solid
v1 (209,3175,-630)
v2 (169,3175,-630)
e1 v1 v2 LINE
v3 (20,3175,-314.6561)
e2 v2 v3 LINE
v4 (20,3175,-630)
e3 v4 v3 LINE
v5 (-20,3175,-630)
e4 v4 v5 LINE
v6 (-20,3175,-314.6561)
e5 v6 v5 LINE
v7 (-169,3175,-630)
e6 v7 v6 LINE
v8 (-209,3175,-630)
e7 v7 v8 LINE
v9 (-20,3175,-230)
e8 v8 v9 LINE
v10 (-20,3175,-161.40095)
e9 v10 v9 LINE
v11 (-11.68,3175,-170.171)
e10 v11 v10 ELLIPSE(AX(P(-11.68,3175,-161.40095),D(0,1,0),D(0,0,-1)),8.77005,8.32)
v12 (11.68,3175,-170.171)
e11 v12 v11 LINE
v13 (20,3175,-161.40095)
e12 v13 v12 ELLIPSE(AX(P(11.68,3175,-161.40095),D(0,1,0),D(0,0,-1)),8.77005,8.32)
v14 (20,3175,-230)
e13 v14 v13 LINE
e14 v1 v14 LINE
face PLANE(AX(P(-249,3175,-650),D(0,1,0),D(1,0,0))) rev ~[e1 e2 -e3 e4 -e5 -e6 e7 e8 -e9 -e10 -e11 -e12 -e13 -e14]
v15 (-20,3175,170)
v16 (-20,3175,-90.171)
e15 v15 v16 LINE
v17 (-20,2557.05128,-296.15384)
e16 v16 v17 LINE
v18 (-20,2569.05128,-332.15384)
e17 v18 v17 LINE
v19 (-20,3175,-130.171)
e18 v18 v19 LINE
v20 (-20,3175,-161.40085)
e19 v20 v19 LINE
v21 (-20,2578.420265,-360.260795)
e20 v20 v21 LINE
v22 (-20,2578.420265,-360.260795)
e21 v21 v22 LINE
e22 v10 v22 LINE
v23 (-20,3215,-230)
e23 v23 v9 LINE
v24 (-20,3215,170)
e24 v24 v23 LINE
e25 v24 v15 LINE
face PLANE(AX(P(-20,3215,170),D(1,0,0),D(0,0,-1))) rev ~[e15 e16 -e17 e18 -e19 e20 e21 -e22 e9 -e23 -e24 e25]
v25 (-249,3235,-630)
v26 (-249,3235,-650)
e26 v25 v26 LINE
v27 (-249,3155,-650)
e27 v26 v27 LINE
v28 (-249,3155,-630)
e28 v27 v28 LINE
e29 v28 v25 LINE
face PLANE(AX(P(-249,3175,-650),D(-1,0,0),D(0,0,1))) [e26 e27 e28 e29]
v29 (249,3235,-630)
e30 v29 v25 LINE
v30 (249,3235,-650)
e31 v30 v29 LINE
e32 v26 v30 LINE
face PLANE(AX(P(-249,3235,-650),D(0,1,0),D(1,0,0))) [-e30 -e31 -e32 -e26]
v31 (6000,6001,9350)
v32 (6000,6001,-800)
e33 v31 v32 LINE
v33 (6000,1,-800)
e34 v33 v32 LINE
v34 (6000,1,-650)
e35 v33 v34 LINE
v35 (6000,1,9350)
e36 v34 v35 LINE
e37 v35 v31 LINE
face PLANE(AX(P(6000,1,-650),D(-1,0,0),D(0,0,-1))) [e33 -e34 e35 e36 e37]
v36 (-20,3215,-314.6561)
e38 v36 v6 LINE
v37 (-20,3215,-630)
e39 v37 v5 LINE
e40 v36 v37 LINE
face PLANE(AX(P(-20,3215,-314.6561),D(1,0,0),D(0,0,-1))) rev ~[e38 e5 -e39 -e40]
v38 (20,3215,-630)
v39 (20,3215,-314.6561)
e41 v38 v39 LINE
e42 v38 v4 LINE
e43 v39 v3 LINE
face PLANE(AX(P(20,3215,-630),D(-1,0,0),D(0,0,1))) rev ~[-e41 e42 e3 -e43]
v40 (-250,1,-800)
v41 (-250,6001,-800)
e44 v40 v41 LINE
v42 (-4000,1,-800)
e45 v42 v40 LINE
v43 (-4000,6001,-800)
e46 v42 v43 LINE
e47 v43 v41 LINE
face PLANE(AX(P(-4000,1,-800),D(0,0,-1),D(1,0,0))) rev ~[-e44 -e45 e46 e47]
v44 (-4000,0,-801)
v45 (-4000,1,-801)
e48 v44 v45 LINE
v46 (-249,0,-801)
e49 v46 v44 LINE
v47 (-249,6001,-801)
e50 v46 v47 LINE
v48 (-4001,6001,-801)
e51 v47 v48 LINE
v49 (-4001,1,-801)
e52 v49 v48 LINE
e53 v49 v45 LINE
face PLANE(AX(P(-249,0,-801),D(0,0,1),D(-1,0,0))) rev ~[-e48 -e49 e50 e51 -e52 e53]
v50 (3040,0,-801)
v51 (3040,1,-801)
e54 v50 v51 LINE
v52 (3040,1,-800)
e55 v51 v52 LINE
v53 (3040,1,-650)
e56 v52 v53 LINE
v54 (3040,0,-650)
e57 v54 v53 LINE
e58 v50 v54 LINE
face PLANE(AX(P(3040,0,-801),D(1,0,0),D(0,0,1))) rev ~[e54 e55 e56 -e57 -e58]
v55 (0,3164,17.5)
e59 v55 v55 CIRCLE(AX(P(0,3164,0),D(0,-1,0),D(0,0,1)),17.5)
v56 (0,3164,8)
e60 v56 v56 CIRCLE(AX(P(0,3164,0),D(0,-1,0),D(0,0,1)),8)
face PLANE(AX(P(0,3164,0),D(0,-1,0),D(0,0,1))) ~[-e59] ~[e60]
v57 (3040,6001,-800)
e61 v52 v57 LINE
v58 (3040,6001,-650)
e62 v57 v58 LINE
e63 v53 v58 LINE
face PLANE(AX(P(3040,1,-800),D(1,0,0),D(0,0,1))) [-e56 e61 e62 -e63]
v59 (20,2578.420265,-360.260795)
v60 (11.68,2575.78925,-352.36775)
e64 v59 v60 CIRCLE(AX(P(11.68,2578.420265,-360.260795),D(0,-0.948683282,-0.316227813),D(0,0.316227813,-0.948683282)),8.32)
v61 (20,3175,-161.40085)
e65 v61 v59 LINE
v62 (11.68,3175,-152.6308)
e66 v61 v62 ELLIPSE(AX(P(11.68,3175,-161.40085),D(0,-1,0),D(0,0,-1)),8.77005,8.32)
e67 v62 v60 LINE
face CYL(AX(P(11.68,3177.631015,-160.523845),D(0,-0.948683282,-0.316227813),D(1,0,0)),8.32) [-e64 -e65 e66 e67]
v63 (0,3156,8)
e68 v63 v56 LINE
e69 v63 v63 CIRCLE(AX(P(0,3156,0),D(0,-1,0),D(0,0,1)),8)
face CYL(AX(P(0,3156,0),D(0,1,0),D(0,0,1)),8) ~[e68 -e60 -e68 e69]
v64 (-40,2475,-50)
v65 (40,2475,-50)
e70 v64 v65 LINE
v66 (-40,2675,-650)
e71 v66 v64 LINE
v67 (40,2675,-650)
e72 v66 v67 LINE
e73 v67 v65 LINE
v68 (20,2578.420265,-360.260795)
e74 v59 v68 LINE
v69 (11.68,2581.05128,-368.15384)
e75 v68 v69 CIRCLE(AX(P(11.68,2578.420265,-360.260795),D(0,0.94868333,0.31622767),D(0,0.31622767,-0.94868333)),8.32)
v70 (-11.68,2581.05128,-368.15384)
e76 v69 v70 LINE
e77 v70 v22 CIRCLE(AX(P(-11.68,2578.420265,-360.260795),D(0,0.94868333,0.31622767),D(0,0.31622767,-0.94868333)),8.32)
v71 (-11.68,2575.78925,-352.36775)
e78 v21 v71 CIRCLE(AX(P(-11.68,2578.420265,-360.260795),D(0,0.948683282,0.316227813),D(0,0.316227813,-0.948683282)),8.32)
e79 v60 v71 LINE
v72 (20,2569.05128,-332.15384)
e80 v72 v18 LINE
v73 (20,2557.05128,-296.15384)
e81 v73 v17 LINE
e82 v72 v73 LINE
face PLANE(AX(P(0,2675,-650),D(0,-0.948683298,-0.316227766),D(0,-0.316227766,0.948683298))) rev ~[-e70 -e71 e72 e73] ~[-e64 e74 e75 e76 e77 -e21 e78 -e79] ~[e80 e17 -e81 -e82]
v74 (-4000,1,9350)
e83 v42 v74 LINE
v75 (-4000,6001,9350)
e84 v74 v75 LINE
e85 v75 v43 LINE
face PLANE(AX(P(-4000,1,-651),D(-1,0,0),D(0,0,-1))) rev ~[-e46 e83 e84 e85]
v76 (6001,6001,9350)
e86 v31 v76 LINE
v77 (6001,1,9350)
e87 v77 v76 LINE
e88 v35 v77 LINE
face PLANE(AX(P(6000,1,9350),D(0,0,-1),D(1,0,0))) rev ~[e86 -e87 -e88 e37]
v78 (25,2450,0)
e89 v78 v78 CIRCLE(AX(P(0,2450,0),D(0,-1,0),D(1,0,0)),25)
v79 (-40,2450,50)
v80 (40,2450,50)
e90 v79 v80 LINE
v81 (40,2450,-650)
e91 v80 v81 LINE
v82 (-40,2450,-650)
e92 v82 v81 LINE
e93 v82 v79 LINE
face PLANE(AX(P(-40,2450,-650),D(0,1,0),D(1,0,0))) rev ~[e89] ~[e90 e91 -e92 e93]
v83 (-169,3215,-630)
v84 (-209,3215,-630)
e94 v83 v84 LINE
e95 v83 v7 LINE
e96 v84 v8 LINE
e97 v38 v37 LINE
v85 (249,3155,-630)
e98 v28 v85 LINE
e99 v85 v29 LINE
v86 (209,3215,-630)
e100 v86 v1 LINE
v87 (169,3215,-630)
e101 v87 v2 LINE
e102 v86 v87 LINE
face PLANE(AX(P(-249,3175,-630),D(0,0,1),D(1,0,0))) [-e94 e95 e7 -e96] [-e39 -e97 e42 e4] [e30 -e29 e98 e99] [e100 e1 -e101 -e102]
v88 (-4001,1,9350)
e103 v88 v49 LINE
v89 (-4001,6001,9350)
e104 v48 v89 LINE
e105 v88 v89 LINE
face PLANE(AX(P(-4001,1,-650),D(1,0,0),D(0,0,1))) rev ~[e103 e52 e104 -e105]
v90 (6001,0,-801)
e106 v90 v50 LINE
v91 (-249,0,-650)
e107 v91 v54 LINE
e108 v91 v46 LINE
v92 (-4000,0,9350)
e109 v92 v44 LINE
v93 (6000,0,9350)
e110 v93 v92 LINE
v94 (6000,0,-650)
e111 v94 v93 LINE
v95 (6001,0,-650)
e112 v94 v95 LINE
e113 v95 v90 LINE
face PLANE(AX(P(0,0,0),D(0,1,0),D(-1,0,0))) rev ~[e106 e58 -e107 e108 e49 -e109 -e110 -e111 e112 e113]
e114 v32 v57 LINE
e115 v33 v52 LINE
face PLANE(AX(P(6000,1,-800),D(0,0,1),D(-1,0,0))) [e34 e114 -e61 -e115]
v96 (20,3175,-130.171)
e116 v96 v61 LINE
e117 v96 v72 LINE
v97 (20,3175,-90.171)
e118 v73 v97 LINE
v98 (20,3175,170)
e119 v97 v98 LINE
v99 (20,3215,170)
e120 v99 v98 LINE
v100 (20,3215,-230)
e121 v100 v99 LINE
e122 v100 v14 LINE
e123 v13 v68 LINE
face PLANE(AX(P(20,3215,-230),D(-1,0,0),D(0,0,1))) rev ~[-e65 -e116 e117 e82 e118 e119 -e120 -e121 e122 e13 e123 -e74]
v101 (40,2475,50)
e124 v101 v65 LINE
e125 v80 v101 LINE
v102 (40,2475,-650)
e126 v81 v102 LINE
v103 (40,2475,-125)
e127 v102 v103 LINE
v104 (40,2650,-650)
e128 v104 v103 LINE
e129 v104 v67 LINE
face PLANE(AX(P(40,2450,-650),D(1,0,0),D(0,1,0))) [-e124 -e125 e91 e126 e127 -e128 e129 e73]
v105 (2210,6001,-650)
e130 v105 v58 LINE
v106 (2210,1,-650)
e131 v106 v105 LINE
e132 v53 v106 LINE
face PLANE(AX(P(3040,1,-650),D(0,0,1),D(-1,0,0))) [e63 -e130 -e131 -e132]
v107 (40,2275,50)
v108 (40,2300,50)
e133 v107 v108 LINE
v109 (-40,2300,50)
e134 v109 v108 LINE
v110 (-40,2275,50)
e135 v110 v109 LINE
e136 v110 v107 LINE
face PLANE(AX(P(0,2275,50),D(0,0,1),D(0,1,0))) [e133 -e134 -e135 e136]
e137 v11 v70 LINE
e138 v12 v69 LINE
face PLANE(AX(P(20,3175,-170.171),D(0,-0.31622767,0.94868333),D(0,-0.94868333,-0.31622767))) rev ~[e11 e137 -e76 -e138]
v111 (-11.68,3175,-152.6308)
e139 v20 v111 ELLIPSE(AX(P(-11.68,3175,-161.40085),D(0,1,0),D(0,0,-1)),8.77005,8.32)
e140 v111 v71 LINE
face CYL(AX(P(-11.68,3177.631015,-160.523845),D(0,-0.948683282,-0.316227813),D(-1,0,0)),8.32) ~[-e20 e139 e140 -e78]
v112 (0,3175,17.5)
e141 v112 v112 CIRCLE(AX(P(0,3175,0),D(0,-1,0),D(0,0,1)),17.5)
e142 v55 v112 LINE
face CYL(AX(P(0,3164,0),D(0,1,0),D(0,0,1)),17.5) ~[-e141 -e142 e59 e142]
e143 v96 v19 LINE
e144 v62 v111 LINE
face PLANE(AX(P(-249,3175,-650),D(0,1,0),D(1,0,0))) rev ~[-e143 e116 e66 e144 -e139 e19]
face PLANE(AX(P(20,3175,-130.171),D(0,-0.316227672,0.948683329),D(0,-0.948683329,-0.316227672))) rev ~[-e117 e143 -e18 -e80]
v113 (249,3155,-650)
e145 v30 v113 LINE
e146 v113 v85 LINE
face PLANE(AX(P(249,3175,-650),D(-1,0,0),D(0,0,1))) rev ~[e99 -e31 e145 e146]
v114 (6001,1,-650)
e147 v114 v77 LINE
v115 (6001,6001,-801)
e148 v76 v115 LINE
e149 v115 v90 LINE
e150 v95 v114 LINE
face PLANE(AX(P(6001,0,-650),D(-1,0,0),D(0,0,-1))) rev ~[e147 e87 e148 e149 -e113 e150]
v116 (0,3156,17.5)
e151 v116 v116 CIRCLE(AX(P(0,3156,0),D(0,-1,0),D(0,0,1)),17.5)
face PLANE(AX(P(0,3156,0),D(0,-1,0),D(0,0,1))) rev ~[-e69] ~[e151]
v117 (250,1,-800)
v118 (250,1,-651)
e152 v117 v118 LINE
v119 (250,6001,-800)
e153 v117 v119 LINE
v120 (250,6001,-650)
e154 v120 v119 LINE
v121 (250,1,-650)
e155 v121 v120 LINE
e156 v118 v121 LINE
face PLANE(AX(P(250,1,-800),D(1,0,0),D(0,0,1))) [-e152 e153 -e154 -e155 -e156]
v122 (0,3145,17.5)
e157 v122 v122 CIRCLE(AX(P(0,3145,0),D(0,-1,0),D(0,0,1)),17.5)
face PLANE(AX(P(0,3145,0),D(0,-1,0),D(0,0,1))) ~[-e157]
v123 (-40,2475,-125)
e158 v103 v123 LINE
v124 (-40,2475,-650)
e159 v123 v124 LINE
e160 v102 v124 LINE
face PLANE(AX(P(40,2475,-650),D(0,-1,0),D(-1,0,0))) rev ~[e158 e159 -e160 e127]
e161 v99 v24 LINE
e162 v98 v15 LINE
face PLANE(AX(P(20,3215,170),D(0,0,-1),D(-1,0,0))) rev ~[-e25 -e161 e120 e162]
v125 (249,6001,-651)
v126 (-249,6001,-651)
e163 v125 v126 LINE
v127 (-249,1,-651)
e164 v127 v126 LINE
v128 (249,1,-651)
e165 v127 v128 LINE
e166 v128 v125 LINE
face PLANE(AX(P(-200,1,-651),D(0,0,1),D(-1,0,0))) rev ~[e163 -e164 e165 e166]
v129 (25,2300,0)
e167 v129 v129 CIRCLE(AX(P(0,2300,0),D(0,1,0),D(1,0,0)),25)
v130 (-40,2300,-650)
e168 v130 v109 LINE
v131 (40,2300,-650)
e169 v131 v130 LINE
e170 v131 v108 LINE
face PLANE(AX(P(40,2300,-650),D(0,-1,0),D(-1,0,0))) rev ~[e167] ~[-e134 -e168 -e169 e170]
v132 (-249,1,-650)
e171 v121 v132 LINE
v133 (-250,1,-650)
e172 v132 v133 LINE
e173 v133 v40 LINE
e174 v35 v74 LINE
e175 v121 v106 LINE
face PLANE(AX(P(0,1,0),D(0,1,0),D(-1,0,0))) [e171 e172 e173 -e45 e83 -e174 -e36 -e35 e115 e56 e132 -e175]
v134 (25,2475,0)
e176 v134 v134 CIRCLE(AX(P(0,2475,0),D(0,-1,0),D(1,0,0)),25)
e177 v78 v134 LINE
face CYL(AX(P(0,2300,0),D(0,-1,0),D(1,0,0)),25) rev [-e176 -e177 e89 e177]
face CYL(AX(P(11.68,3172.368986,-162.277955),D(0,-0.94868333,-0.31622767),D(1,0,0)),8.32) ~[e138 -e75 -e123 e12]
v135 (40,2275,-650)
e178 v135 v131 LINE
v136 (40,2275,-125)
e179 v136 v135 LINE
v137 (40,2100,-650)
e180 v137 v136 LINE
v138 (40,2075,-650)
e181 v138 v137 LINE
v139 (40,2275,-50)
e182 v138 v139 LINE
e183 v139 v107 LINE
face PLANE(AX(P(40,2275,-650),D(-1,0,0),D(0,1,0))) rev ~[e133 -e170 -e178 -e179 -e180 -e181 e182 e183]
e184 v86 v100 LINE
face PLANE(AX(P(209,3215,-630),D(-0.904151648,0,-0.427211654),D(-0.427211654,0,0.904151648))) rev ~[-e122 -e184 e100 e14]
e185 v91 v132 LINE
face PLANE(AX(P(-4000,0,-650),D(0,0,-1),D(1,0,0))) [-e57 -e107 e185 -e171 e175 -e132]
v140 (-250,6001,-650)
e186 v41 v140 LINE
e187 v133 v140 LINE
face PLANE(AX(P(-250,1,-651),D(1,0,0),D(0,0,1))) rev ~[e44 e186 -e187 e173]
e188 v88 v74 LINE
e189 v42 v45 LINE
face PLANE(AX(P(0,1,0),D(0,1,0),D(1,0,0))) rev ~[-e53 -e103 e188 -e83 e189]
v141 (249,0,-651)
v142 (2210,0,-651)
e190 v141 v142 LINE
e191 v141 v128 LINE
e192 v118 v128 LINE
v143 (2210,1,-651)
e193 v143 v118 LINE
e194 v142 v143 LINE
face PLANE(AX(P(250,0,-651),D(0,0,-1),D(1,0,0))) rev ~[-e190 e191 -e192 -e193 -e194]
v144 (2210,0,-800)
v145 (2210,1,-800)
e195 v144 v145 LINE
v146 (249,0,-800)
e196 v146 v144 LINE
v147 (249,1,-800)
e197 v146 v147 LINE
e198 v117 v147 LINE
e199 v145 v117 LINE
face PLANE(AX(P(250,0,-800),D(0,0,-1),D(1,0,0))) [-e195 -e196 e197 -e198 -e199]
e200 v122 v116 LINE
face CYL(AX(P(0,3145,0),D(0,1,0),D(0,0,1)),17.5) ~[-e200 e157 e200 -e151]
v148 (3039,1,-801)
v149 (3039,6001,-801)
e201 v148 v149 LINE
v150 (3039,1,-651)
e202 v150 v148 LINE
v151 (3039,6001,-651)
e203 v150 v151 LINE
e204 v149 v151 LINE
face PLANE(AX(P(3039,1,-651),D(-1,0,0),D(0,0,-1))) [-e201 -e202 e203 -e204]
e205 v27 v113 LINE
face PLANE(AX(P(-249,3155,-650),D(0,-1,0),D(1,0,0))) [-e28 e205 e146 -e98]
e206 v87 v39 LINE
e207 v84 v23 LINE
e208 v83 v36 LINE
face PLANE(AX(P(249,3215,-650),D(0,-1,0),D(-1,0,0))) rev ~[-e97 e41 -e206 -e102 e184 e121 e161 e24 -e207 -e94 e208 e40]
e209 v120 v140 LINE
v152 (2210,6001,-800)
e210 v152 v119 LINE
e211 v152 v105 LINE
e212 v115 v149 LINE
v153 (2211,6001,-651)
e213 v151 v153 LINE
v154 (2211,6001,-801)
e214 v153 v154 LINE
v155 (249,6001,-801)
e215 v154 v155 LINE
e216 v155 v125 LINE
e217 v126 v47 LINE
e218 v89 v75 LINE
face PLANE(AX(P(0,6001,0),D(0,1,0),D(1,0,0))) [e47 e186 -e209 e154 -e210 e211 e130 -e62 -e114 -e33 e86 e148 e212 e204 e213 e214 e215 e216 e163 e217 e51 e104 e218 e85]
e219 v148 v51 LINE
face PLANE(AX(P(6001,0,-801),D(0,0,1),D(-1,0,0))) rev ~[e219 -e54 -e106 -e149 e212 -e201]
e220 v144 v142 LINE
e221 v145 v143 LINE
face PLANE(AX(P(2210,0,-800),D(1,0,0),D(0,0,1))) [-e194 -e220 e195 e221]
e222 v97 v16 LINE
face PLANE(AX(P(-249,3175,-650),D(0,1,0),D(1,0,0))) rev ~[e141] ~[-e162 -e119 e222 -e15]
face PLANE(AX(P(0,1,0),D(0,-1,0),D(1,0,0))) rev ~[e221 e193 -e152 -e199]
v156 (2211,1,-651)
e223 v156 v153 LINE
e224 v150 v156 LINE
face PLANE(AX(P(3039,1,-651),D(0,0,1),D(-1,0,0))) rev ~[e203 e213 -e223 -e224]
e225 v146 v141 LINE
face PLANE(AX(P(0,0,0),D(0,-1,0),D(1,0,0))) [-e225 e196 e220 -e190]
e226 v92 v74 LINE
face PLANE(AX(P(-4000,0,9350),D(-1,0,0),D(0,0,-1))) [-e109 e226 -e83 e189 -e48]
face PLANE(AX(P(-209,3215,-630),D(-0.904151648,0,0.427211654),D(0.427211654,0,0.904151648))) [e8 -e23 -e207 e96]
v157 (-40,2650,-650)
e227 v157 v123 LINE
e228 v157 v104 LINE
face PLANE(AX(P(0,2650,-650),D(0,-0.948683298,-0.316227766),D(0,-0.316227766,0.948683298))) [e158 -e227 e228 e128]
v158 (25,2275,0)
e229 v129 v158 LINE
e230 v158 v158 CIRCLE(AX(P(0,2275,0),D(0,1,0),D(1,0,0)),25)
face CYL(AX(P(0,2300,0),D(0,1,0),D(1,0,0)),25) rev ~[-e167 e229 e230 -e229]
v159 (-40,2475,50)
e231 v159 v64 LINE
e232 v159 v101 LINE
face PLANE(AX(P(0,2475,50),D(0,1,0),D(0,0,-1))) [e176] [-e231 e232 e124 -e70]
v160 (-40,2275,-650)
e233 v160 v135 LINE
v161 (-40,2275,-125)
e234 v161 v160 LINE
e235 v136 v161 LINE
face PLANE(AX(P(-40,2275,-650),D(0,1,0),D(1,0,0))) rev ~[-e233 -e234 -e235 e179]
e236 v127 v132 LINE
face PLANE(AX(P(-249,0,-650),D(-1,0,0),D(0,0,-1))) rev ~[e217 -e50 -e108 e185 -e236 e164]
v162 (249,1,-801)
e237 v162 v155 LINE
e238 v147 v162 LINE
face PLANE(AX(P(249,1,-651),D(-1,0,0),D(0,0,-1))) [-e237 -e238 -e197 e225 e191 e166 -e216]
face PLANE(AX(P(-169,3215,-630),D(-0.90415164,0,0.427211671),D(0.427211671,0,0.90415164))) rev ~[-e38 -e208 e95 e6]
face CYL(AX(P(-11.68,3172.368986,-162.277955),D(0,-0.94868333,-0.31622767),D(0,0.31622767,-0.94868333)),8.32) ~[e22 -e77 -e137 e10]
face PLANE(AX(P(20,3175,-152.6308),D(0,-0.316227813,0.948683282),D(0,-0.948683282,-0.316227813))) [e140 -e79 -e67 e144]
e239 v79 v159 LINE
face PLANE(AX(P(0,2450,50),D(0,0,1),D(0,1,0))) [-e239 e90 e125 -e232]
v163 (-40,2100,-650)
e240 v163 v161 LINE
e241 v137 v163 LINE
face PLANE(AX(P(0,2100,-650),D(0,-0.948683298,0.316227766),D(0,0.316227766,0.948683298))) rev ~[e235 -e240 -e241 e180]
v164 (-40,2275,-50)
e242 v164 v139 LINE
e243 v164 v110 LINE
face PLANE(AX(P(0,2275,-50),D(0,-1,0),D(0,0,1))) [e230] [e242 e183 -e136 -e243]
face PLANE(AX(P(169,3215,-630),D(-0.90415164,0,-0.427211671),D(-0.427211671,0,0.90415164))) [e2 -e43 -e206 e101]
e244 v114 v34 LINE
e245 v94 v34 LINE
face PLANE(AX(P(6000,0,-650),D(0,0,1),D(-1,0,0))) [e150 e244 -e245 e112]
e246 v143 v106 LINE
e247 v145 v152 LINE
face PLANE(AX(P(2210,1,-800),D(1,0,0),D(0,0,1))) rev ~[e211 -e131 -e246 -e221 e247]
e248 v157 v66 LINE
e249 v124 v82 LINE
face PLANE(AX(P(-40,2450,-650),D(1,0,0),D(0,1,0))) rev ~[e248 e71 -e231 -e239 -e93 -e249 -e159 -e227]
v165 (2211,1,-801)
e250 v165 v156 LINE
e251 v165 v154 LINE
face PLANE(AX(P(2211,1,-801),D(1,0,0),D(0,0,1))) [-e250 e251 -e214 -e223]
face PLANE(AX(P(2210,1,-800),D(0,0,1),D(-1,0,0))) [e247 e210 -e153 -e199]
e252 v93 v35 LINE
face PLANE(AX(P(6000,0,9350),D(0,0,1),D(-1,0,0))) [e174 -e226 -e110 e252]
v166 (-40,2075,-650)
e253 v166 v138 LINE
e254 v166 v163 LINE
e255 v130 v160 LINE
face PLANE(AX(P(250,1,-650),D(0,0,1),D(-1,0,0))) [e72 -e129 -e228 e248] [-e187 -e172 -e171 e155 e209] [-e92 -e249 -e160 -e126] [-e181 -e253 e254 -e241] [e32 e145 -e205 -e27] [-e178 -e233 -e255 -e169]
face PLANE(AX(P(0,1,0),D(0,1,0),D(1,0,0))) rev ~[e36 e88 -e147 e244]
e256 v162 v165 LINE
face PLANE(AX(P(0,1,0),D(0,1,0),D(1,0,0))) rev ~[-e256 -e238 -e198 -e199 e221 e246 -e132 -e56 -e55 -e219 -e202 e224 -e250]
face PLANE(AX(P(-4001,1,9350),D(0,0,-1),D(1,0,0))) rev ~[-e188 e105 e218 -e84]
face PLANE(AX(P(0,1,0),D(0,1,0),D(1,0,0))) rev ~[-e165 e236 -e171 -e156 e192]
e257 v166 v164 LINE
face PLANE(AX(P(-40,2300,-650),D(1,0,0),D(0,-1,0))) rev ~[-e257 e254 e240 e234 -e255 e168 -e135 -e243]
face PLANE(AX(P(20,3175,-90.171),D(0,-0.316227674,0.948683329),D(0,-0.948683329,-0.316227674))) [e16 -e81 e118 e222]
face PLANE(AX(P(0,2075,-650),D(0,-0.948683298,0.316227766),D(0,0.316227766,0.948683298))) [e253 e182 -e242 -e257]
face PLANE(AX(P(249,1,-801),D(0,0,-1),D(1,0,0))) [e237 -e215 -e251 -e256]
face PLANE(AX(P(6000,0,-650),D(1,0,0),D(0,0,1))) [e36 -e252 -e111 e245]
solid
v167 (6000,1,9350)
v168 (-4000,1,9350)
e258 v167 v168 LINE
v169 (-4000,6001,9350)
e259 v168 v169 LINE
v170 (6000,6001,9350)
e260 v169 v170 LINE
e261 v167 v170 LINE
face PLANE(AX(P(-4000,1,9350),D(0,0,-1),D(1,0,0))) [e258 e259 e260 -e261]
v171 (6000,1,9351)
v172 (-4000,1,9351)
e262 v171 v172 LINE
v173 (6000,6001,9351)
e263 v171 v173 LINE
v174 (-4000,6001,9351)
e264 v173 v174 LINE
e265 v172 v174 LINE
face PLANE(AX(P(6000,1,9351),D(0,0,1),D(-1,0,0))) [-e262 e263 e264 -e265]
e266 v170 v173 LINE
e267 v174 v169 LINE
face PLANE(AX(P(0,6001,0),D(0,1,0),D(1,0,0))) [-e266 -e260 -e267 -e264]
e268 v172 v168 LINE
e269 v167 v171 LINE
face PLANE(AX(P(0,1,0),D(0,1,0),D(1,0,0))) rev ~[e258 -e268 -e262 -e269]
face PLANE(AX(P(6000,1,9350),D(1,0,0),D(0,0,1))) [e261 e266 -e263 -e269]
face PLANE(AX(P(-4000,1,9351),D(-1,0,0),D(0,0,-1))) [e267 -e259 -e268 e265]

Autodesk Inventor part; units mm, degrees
ref_plane "YZ Plane" through (0, 0, 0) normal (1, 0, 0) x (0, 1, 0)
ref_plane "XZ Plane" through (0, 0, 0) normal (0, 1, 0) x (-1, 0, 0)
ref_plane "XY Plane" through (0, 0, 0) normal (0, 0, 1) x (1, 0, 0)
sketch "Boceto1" plane through (0, 0, 0) normal (0, 1, 0) x (-1, 0, 0)
  line L0 (0, 0) -> (0, -650) construction
  line L1 (0, -650) -> (4000, -650) construction
  line L2 (4000, -650) -> (-6000, -650)
  line L3 (-6000, -650) -> (-6000, 9350)
  line L4 (-6000, 9350) -> (4000, 9350)
  line L5 (4000, 9350) -> (4000, -650)
  dimension "d1" = 650
  dimension "d2" = 4000
  dimension "d3" = 10000
  dimension "d4" = 10000
extrude "Extrusión1" add sketch "Boceto1" along normal blind 1
sketch "Boceto3" plane through (0, 1, 0) normal (0, 1, 0) x (1, 0, 0)
  line L0 (-4000, 650) -> (-4000, -9350) construction
  line L1 (-4000, -9350) -> (6000, -9350) construction
  line L2 (6000, -9350) -> (6000, 650) construction
  line L3 (6000, 650) -> (-4000, 650) construction
  line L4 (6000, 650) -> (6000, 651)
  line L5 (-4000, 650) -> (-4000, -9350) projected
  line L6 (-4001, 650) -> (-4001, -9350)
  line L7 (-4001, -9350) -> (-4000, -9350)
  line L8 (-4000, -9350) -> (-4000, 650)
  line L9 (-4000, -9350) -> (6000, -9350)
  line L10 (6000, -9350) -> (6000, -9351)
  line L11 (6000, -9351) -> (-4000, -9351)
  line L12 (-4000, -9351) -> (-4000, -9350)
  line L13 (6000, -9350) -> (6001, -9350)
  line L14 (6001, -9350) -> (6001, 650)
  line L15 (6001, 650) -> (6000, 650) construction
  line L16 (6000, 650) -> (6000, -9350)
  line L17 (-50, 651) -> (200, 651)
  line L18 (200, 651) -> (-200, 651)
  line L19 (0, 651) -> (250, 651) construction
  line L20 (250, 651) -> (-249, 651) construction
  line L21 (-250, 651) -> (-249, 651) construction
  line L22 (-249, 651) -> (-249, 801)
  line L23 (-249, 801) -> (-250, 801)
  line L24 (-250, 800) -> (-250, 651)
  line L25 (250, 651) -> (249, 651) construction
  line L26 (249, 651) -> (249, 801)
  line L27 (249, 801) -> (250, 801)
  line L28 (250, 800) -> (250, 651)
  line L29 (249, 651) -> (-249, 651)
  line L30 (6000, 801) -> (6000, 800) construction
  line L31 (249, 800) -> (249, 801)
  line L32 (6001, 650) -> (6000, 650) construction
  line L33 (6000, 650) -> (6000, 800)
  line L34 (6000, 800) -> (6001, 800) construction
  line L35 (6001, 800) -> (6001, 650)
  line L36 (-250, 801) -> (-4000, 801)
  line L37 (-4000, 801) -> (-4000, 800) construction
  line L38 (-4000, 800) -> (-250, 800)
  line L39 (-250, 800) -> (-250, 801) construction
  line L40 (-4000, 801) -> (-4001, 801)
  line L41 (-4001, 801) -> (-4001, 650)
  line L42 (-4000, 651) -> (-4000, 800)
  line L43 (-250, 651) -> (-250, 650)
  line L44 (250, 651) -> (250, 650)
  line L45 (6000, 650) -> (-4000, 650) projected
  line L46 (6000, 801) -> (6001, 801)
  line L47 (6001, 801) -> (6001, 800)
  line L48 (6001, 800) -> (6000, 800) construction
  line L49 (6000, 800) -> (6000, 801) construction
  line L50 (2210, 650) -> (2210, 200) construction
  line L51 (2210, 200) -> (3040, 200) construction
  line L52 (3040, 200) -> (3040, 650) construction
  line L53 (3040, 650) -> (2210, 650) construction
  line L54 (2210, 650) -> (2211, 650)
  line L55 (2211, 651) -> (2211, 800)
  line L56 (2211, 800) -> (2210, 800) construction
  line L57 (2210, 800) -> (2210, 650)
  line L58 (3040, 650) -> (3039, 650)
  line L59 (3039, 651) -> (3039, 800)
  line L60 (3039, 800) -> (3040, 800) construction
  line L61 (3040, 800) -> (3040, 650)
  line L62 (2211, 650) -> (3039, 650)
  line L63 (3039, 650) -> (3039, 651) construction
  line L64 (3039, 651) -> (2211, 651)
  line L65 (2211, 651) -> (2211, 650) construction
  line L66 (2210, 800) -> (250, 800)
  line L67 (6000, 800) -> (3040, 800)
  line L68 (2211, 801) -> (2211, 800)
  line L69 (3039, 800) -> (3039, 801)
  line L70 (249, 801) -> (2211, 801)
  line L71 (3039, 801) -> (6000, 801)
  line L72 (-4000, 651) -> (-4000, 650)
  point P0 (0, 0)
  point P1 (-4000, -9350)
  point P2 (-4000, -9350)
  point P3 (-2000, -9350)
  point P4 (6000, 650)
  point P5 (6000, 650)
  dimension "d7" = 1
  dimension "d8" = 1
  dimension "d9" = 1
  dimension "d10" = 1
  dimension "d24" = 10000
  dimension "d32" = 0
  dimension "d34" = 0
  dimension "d36" = 10000
  dimension "d37" = 8000
  dimension "d38" = 10000
  dimension "d39" = 8000
  dimension "d40" = 10000
  dimension "d41" = 8000
  dimension "d42" = 0
  dimension "d81" = 250
  dimension "d82" = 500
  dimension "d83" = 1
  dimension "d84" = 150
  dimension "d85" = 1
  dimension "d86" = 150
  dimension "d87" = 1
  dimension "d88" = 1
  dimension "d89" = 90
  dimension "d90" = 90
  dimension "d94" = 0
  dimension "d95" = 0
  dimension "d96" = 151
  dimension "d97" = 5751
  dimension "d98" = 4250
  dimension "d99" = 0
  dimension "d100" = 1
  dimension "d101" = 0
  dimension "d102" = 0
  dimension "d103" = 150
  dimension "d104" = 5800
  dimension "d105" = 6050
  dimension "d106" = 0
  dimension "d107" = 1
  dimension "d108" = 0
  dimension "d111" = 1
  dimension "d112" = 1
  dimension "d113" = 1
  dimension "d114" = 90
  dimension "d115" = 151
  dimension "d116" = 150
  dimension "d117" = 2961
extrude "Extrusión2" add sketch "Boceto3" along normal blind 6000 contours L4 L33 L67 L61 L45 L57 L66 L28 L44 L43 L24 L38 L42 L72 L5 L7 L6 L41 L40 L36 L23 L22 L29 L18 L17 L26 L27 L70 L68 L55 L64 L59 L69 L71 L46 L47 L35 L14 L13 L16 | L10 L11 L12 L9
sketch "Boceto4" plane through (0, 1, 0) normal (0, 1, 0) x (1, 0, 0)
  line L0 (0, 0) -> (370, 0) construction
  line L1 (0, 0) -> (2210, 0) construction
  line L2 (0, 0) -> (-385, 0) construction
  line L3 (0, 185) -> (0, 0) construction
  line L4 (0, 0) -> (-1260, 0) construction
  line L5 (0, 360) -> (0, 0) construction
  line L6 (0, 0) -> (250, 0) construction
  line L7 (250, 0) -> (250, -820) construction
  line L8 (250, -820) -> (0, -820) construction
  line L9 (0, -820) -> (0, 0) construction
  line L10 (0, 0) -> (-300, 0) construction
  line L11 (-300, 0) -> (-300, -1247) construction
  line L12 (-300, -1247) -> (0, -1247) construction
  line L13 (0, -1247) -> (0, 0) construction
  line L14 (0, 0) -> (30, 0) construction
  line L15 (30, 0) -> (30, -2220) construction
  line L16 (30, -2220) -> (0, -2220) construction
  line L17 (0, -2220) -> (0, 0) construction
  line L18 (0, 0) -> (1200, 0) construction
  line L19 (1200, 0) -> (1200, -720) construction
  line L20 (1200, -720) -> (0, -720) construction
  line L21 (0, -720) -> (0, 0) construction
  line L22 (0, 0) -> (-650, 0) construction
  line L23 (-650, 0) -> (-650, -650) construction
  line L24 (-650, -650) -> (0, -650) construction
  line L25 (0, -650) -> (0, 0) construction
  line L26 (6000, 650) -> (-4000, 650) projected
  line L27 (0, 0) -> (-1300, 0) construction
  line L28 (-1300, 0) -> (-1300, -1650) construction
  line L29 (-1300, -1650) -> (0, -1650) construction
  line L30 (0, -1650) -> (0, 0) construction
  line L31 (0, 0) -> (515, 0) construction
  line L32 (515, 0) -> (515, -1475) construction
  line L33 (515, -1475) -> (0, -1475) construction
  line L34 (0, -1475) -> (0, 0) construction
  line L35 (0, 0) -> (485, 0) construction
  line L36 (485, 0) -> (485, -1240) construction
  line L37 (485, -1240) -> (0, -1240) construction
  line L38 (0, -1240) -> (0, 0) construction
  line L39 (0, 0) -> (495, 0) construction
  line L40 (495, 0) -> (495, -972) construction
  line L41 (495, -972) -> (0, -972) construction
  line L42 (0, -972) -> (0, 0) construction
  line L43 (0, 0) -> (-385, 0) construction
  line L44 (-385, 0) -> (-385, -185) construction
  line L45 (-385, -185) -> (0, -185) construction
  line L46 (0, -185) -> (0, 0) construction
  line L47 (0, 0) -> (-1360, 0) construction
  line L48 (-1360, 0) -> (-1360, 267) construction
  line L49 (-1360, 267) -> (0, 267) construction
  line L50 (0, 267) -> (0, 0) construction
  line L51 (30, 0) -> (3030, 0) construction
  line L52 (0, 0) -> (-1414.2136, -1414.2136)
  line L53 (0, 0) -> (2000, 0) construction
  line L54 (0, 0) -> (30, -33.541)
  line L55 (30, -33.541) -> (-33.6396, 30.0986)
  line L56 (-33.6396, 30.0986) -> (-1447.8532, -1384.115)
  line L57 (-385, -185) -> (-1360, 0) construction
  point P0 (0, 650)
  dimension "d13" = 370
  dimension "d14" = 2210
  dimension "d19" = 250
  dimension "d20" = 820
  dimension "d21" = 300
  dimension "d22" = 1247
  dimension "d47" = 30
  dimension "d48" = 2220
  dimension "d49" = 1200
  dimension "d50" = 720
  dimension "d51" = 650
  dimension "d52" = 650
  dimension "d54" = 650
  dimension "d56" = 1300
  dimension "d57" = 1650
  dimension "d58" = 515
  dimension "d59" = 1475
  dimension "d60" = 485
  dimension "d61" = 1240
  dimension "d62" = 495
  dimension "d63" = 972
  dimension "d64" = 385
  dimension "d65" = 185
  dimension "d66" = 1360
  dimension "d67" = 267
  dimension "d70" = 2000
  dimension "d71" = 135
  dimension "d72" = 45
  dimension "d73" = 90
  dimension "d74" = 2000
sketch "Boceto5" plane through (0, 0, 0) normal (0, -1, 0) x (1, 0, 0)
  line L0 (-249, -801) -> (-4001, -801) projected
  line L1 (-249, -651) -> (-249, -801) projected
  line L2 (250, -650) -> (250, -800) projected
  line L3 (250, -800) -> (2210, -800) projected
  line L4 (2210, -800) -> (2210, -650) projected
  line L5 (6001, -801) -> (3039, -801) projected
  line L6 (3039, -801) -> (3039, -651) projected
  line L7 (6000, -800) -> (6000, -650) projected
  line L8 (-4000, -650) -> (-4000, -800) projected
  line L9 (6000, -650) -> (-4000, -650) projected
  line L10 (6001, -801) -> (3039, -801) projected
  line L11 (6000, -650) -> (3040, -650) projected
  line L12 (6001, -801) -> (3040, -801)
  line L13 (3040, -801) -> (3040, -650)
  line L14 (3040, -650) -> (6001, -650)
  line L15 (6001, -650) -> (6001, -801)
  line L16 (250, -800) -> (2210, -800) projected
  line L17 (249, -801) -> (249, -651) projected
  line L18 (2210, -800) -> (249, -800)
  line L19 (249, -800) -> (249, -651)
  line L20 (249, -651) -> (2210, -651)
  line L21 (2210, -651) -> (2210, -800)
  line L22 (-250, -650) -> (-4000, -650) projected
  line L23 (-249, -801) -> (-4000, -801)
  line L24 (-4000, -801) -> (-4000, -650)
  line L25 (-4000, -650) -> (-249, -650)
  line L26 (-249, -650) -> (-249, -801)
  point P0 (0, 0)
  point P1 (-249, -650)
extrude "Extrusión3" add sketch "Boceto5" against normal blind 1 contours L9 L14 L15 L5 L13 | L0 L24 L8 L9 L26 L1 | L20 L4 L3 L2 | L2 L18 L17 L20
sketch "Boceto6" plane through (-249, 1, -650) normal (0, 0, 1) x (1, 0, 0)
  line L0 (499, 0) -> (0, 0) construction
  line L1 (499, 0) -> (499, 6000) construction
  line L2 (-1, 6000) -> (499, 6000) construction
  line L3 (-1, 0) -> (-1, 6000) construction
  line L4 (0, 0) -> (-1, 0) construction
  line L5 (249, -1) -> (249, 2299) construction
  line L6 (249, 2299) -> (249, 2449) construction
  line L7 (249, 2449) -> (249, 2661.5) construction
  line L8 (249, 2449) -> (289, 2449) construction
  line L9 (289, 2449) -> (289, 2474) construction
  line L10 (289, 2474) -> (249, 2474) construction
  line L11 (249, 2474) -> (249, 2449) construction
  line L12 (289, 2474) -> (209, 2474)
  line L13 (209, 2474) -> (209, 2449)
  line L14 (209, 2449) -> (289, 2449)
  line L15 (289, 2449) -> (289, 2474)
  line L16 (249, 2274) -> (289, 2274) construction
  line L17 (289, 2274) -> (289, 2299) construction
  line L18 (289, 2299) -> (249, 2299) construction
  line L19 (249, 2299) -> (249, 2274) construction
  line L20 (289, 2299) -> (209, 2299)
  line L21 (209, 2299) -> (209, 2274)
  line L22 (209, 2274) -> (289, 2274)
  line L23 (289, 2274) -> (289, 2299)
  line L24 (249, 2661.5) -> (274, 2661.5) construction
  line L25 (274, 2661.5) -> (274, 2674) construction
  line L26 (274, 2674) -> (249, 2674) construction
  line L27 (249, 2674) -> (249, 2661.5) construction
  line L28 (274, 2674) -> (224, 2674)
  line L29 (224, 2674) -> (224, 2649)
  line L30 (224, 2649) -> (274, 2649)
  line L31 (274, 2649) -> (274, 2674)
  line L32 (249, 2086.5) -> (274, 2086.5) construction
  line L33 (274, 2086.5) -> (274, 2099) construction
  line L34 (274, 2099) -> (249, 2099) construction
  line L35 (249, 2099) -> (249, 2086.5) construction
  line L36 (274, 2099) -> (224, 2099)
  line L37 (224, 2099) -> (224, 2074)
  line L38 (224, 2074) -> (274, 2074)
  line L39 (274, 2074) -> (274, 2099)
  dimension "d120" = 2300
  dimension "d121" = 150
  dimension "d122" = 212.5
  dimension "d125" = 40
  dimension "d126" = 25
  dimension "d127" = 80
  dimension "d128" = 25
  dimension "d129" = 40
  dimension "d130" = 25
  dimension "d131" = 80
  dimension "d132" = 25
  dimension "d135" = 25
  dimension "d136" = 12.5
  dimension "d137" = 50
  dimension "d138" = 25
  dimension "d142" = 25
  dimension "d143" = 12.5
  dimension "d144" = 50
  dimension "d145" = 25
  dimension "d164" = 2274
  dimension "d165" = 2099
  dimension "d166" = 210
  dimension "d167" = 225
extrude "Extrusión4" add sketch "Boceto6" along normal blind 80 contours L15 L14 L13 L12 | L23 L22 L21 L20
ref_plane "Plano de trabajo1" through (0, 2450, -650) normal (1, 0, 0) x (0, 1, 0)
sketch "Boceto7" plane through (0, 2450, -650) normal (1, 0, 0) x (0, 1, 0)
  line L0 (-2449, 0) -> (3551, 0) construction
  line L1 (25, 0) -> (25, 80) construction
  line L2 (0, 0) -> (0, 80) construction
  line L3 (-150, 0) -> (-150, 80) construction
  line L4 (-175, 0) -> (-175, 80) construction
  line L5 (-150, 0) -> (-150, 650) construction
  line L6 (-150, 0) -> (500, 0) construction
  line L7 (-150, 650) -> (-150, 0) construction
  line L8 (225, 0) -> (200, 0) construction
  line L9 (25, 0) -> (0, 0) construction
  line L10 (25, 0) -> (25, 80) construction
  line L11 (0, 80) -> (25, 80) construction
  line L12 (0, 0) -> (0, 80) construction
  line L13 (-150, 0) -> (-175, 0) construction
  line L14 (-150, 0) -> (-150, 80) construction
  line L15 (-175, 80) -> (-150, 80) construction
  line L16 (-175, 0) -> (-175, 80) construction
  line L17 (-350, 0) -> (-375, 0) construction
  line L18 (-2449, 10000) -> (-2449, -150) construction
  line L19 (-2449, -150) -> (3551, -150) construction
  line L20 (3551, 10000) -> (3551, -150) construction
  line L21 (-2449, 10000) -> (3551, 10000) construction
  line L22 (-150, 80) -> (-175, 80)
  line L23 (-175, 80) -> (-175, 700)
  line L24 (-175, 700) -> (-150, 700)
  line L25 (-150, 700) -> (-150, 80)
  line L26 (25, 0) -> (25, 650) construction
  line L27 (25, 650) -> (25, 0) construction
  line L28 (25, 80) -> (0, 80)
  line L29 (0, 80) -> (0, 700)
  line L30 (0, 700) -> (25, 700)
  line L31 (25, 700) -> (25, 80)
  line L32 (25, 650) -> (25, 600) construction
  line L33 (-150, 650) -> (-150, 600) construction
  line L34 (225, 0) -> (25, 600)
  line L35 (200, 0) -> (25, 525)
  line L36 (-350, 0) -> (-175, 525)
  line L37 (-375, 0) -> (-350, 0)
  line L38 (-375, 0) -> (-175, 600)
  line L39 (200, 0) -> (225, 0)
  line L40 (-350, 0) -> (-375, 0)
  line L41 (225, 0) -> (-375, 0)
  line L42 (-375, 0) -> (-350, 0)
  line L43 (-175, 600) -> (-175, 525)
  line L44 (-350, 0) -> (-375, 0)
  line L45 (225, 0) -> (200, 0)
  line L46 (-375, 0) -> (-350, 0)
  line L47 (-175, 600) -> (-175, 525)
  point P0 (-2450, 650)
  point P1 (25, 525)
  point P2 (25, 600)
  dimension "d139" = 650
  dimension "d140" = 90
  dimension "d150" = 25
  dimension "d151" = 620
  dimension "d152" = 650
  dimension "d153" = 25
  dimension "d154" = 620
  dimension "d155" = 50
  dimension "d156" = 18.435
  dimension "d157" = 18.435
  dimension "d158" = 3526
  dimension "d159" = 3526
  dimension "d160" = 700
  dimension "d161" = 600
sketch "Boceto8" plane through (-249, 1, -650) normal (0, 0, 1) x (1, 0, 0)
  line L0 (249, 2674) -> (249, 3174) construction
  line L1 (289, 2474) -> (289, 2449) construction
  line L2 (289, 2449) -> (209, 2449) construction
  line L3 (209, 2449) -> (209, 2474) construction
  line L4 (209, 2474) -> (289, 2474) construction
  line L5 (289, 2299) -> (289, 2274) construction
  line L6 (289, 2274) -> (209, 2274) construction
  line L7 (209, 2274) -> (209, 2299) construction
  line L8 (209, 2299) -> (289, 2299) construction
  line L9 (499, 0) -> (0, 0) construction
  line L10 (499, 0) -> (499, 6000) construction
  line L11 (-1, 6000) -> (499, 6000) construction
  line L12 (-1, 0) -> (-1, 6000) construction
  line L13 (0, 0) -> (-1, 0) construction
  line L14 (0, -1) -> (0, 6000) construction
  line L15 (249, 3174) -> (0, 3174) construction
  line L16 (0, 3174) -> (0, 3214) construction
  line L17 (0, 3214) -> (249, 3214) construction
  line L18 (249, 3214) -> (249, 3174) construction
  line L19 (498, 0) -> (498, 6000) projected
  line L20 (0, 3174) -> (498, 3174)
  line L21 (498, 3174) -> (498, 3214)
  line L22 (498, 3214) -> (0, 3214)
  line L23 (0, 3214) -> (0, 3174)
  point P0 (249, -1)
  dimension "d146" = 500
  dimension "d147" = 40
  dimension "d173" = 3214
  dimension "d174" = 3214
  dimension "d175" = 250
  dimension "d176" = 3174
  dimension "d177" = 1
extrude "Extrusión5" add sketch "Boceto8" along normal blind 20
extrude "Extrusión6" add sketch "Boceto7" along normal mid plane 80
sketch "Boceto9" plane through (-249, 3215, -650) normal (0, 1, 0) x (1, 0, 0)
  line L0 (0, -20) -> (498, -20) projected
  line L1 (249, -20) -> (269, -20)
  line L2 (269, -20) -> (229, -20)
  line L3 (229, -20) -> (269, -20)
  line L4 (269, -20) -> (269, -820)
  line L5 (269, -820) -> (229, -820)
  line L6 (229, -820) -> (229, -20)
  line L7 (498, -20) -> (458, -20) construction
  line L8 (0, -20) -> (40, -20) construction
  line L9 (498, -20) -> (0, -20) projected
  line L10 (229, -20) -> (229, -420) construction
  line L11 (229, -420) -> (269, -420) construction
  line L12 (40, -20) -> (80, -20)
  line L13 (458, -20) -> (418, -20)
  line L14 (40, -20) -> (229, -420)
  line L15 (80, -20) -> (229, -335.3439)
  line L16 (418, -20) -> (269, -335.3439)
  line L17 (458, -20) -> (269, -420)
  point P0 (249, -650)
  point P1 (418, -20)
  point P2 (269, -20)
  point P3 (229, -20)
  point P4 (229, -335.3439)
  point P5 (80, -20)
  point P6 (40, -20)
  dimension "d168" = 20
  dimension "d169" = 40
  dimension "d170" = 0
  dimension "d171" = 40
  dimension "d172" = 800
  dimension "d178" = 40
  dimension "d179" = 40
  dimension "d180" = 400
  dimension "d181" = 40
  dimension "d182" = 40
extrude "Extrusión7" add sketch "Boceto9" against normal blind 40 contours L0 L15 L6 L14 | L6 L0 L4 L5 | L4 L16 L0 L17
sketch "Boceto10" plane through (20, 3215, 170) normal (1, 0, 0) x (0, 0, -1)
  line L0 (0, 0) -> (400, 0) construction
  line L1 (0, 0) -> (0, -40) construction
  line L2 (400, -40) -> (0, -40) construction
  line L3 (400, 0) -> (400, -40) construction
  line L4 (820, -540) -> (220, -740) construction
  line L5 (820, -740) -> (820, -765) construction
  line L6 (820, -740) -> (295, -740) construction
  line L7 (295, -740) -> (820, -565) construction
  line L8 (820, -540) -> (820, -565) construction
  line L9 (820, -540) -> (220, -740) construction
  line L10 (220, -740) -> (120, -740) construction
  line L11 (120, -740) -> (120, -765) construction
  line L12 (820, -765) -> (120, -765) construction
  line L13 (0, -40) -> (400, -40) projected
  line L14 (220, -740) -> (820, -540) projected
  line L15 (502.759, -647.7642) -> (466.759, -659.7642)
  line L16 (400, -40) -> (0, -40) projected
  line L17 (0, 0) -> (400, 0) projected
  line L18 (260.171, -40) -> (300.171, -40)
  line L19 (340.171, -40) -> (322.6308, -40)
  line L20 (260.171, -40) -> (466.759, -659.7642)
  line L21 (300.171, -40) -> (502.759, -647.7642)
  line L22 (322.6308, -40) -> (522.9729, -641.0262)
  line L23 (340.171, -40) -> (538.759, -635.7642)
  line L24 (466.1539, -657.9487) -> (538.1539, -633.9487)
  point P0 (170, -3215)
  point P1 (522.3677, -639.2108)
  dimension "d198" = 1.9137
  dimension "d199" = 16.6401
  dimension "d200" = 37.9473
  dimension "d201" = 75.8947
  dimension "d202" = 297.0919
  dimension "d203" = 1.9137
  dimension "d204" = 1.9137
extrude "Extrusión8" add sketch "Boceto10" against normal blind 40 contours L13 L21 L14 L20 | L14 L21 L15 L20 | L13 L23 L14 L22
fillet "Empalme1" radius 8.32 4 edges at (-20, 2875.3946, -252.4993) (-20, 2878.0256, -269.1624) (20, 2878.0256, -269.1624) (20, 2875.3946, -252.4993)
sketch "Boceto11" plane through (-249, 3215, -650) normal (0, 1, 0) x (1, 0, 0)
  line L0 (0, 0) -> (498, 0) projected
  line L1 (498, 0) -> (498, -20) projected
  line L2 (0, 0) -> (498, 0)
  line L3 (498, 0) -> (498, -20)
  line L4 (498, -20) -> (0, -20)
  line L5 (0, -20) -> (0, 0)
  point P0 (249, -650)
extrude "Extrusión9" add sketch "Boceto11" along normal blind 20
sketch "Boceto12" plane through (-249, 3175, -650) normal (0, -1, 0) x (1, 0, 0)
  line L0 (0, 0) -> (498, 0) projected
  line L1 (269, 20) -> (418, 20) projected
  line L2 (229, 488.5991) -> (229, 420) projected
  line L3 (229, 420) -> (40, 20) projected
  line L4 (0, 20) -> (40, 20) projected
  line L5 (0, 0) -> (0, 20) projected
  line L6 (498, 0) -> (0, 0) projected
  line L7 (498, 0) -> (498, 20) projected
  line L8 (458, 20) -> (498, 20) projected
  line L9 (458, 20) -> (269, 420) projected
  line L10 (269, 559.829) -> (269, 820) projected
  line L11 (269, 20) -> (418, 20) projected
  line L12 (269, 20) -> (269, 335.3439) projected
  line L13 (269, 335.3439) -> (418, 20) projected
  line L14 (80, 20) -> (229, 20) projected
  line L15 (80, 20) -> (229, 335.3439) projected
  line L16 (229, 335.3439) -> (229, 20) projected
  line L17 (458, 20) -> (498, 20) projected
  line L18 (498, 0) -> (0, 0) projected
  line L19 (498, 20) -> (0, 20)
  line L20 (0, 20) -> (0, 0)
  line L21 (0, 0) -> (498, 0)
  line L22 (498, 0) -> (498, 20)
  line L23 (269, 820) -> (229, 820) projected
  line L24 (237.32, 497.3692) -> (260.68, 497.3692) projected
  line L25 (269, 488.5991) -> (269, 519.829) projected
  line L26 (269, 519.829) -> (229, 519.829) projected
  line L27 (229, 519.829) -> (229, 488.5991) projected
  line L28 (260.68, 479.829) -> (237.32, 479.829) projected
  line L29 (269, 420) -> (269, 488.5991) projected
  line L30 (229, 559.829) -> (269, 559.829) projected
  line L31 (229, 820) -> (229, 559.829) projected
  ellipse E0 centre (260.68, 488.5991) end of major axis (260.68, 479.8291) minor radius 8.32 (269, 488.5991) -> (260.68, 497.3692) ccw projected
  ellipse E1 centre (237.32, 488.5991) end of major axis (237.32, 479.8291) minor radius 8.32 (237.32, 497.3692) -> (229, 488.5991) ccw projected
  ellipse E2 centre (237.32, 488.5991) end of major axis (237.32, 497.3691) minor radius 8.32 (229, 488.5991) -> (237.32, 479.829) ccw projected
  ellipse E3 centre (260.68, 488.5991) end of major axis (260.68, 497.3691) minor radius 8.32 (260.68, 479.829) -> (269, 488.5991) ccw projected
  point P0 (249, 650)
  point P1 (80, 20)
  point P2 (40, 20)
  point P3 (458, 20)
  point P4 (418, 20)
  point P5 (269, 20)
  point P6 (229, 20)
extrude "Extrusión10" add sketch "Boceto12" along normal blind 20 contours L5 L4 L19 L14 L1 L8 L7 L0
sketch "Boceto13" plane through (-40, 2300, -650) normal (0, 1, 0) x (1, 0, 0)
  circle A0 centre (40, -650) radius 25
  dimension "d193" = 50
extrude "Extrusión11" cut sketch "Boceto13" along normal blind 200 and the other way blind 50
sketch "Boceto14" plane through (-20, 3175, 170) normal (0, -1, 0) x (1, 0, 0)
  point P0 (20, -170)
sketch "Boceto15" plane through (0, 2450, -650) normal (1, 0, 0) x (0, 1, 0)
  line L0 (128.4203, 289.7392) -> (725, 488.5991) construction
  line L1 (128.4203, 289.7392) -> (128.4203, 289.7392) construction
  line L2 (725, 488.5991) -> (128.4203, 289.7392) construction
  line L3 (725, 420) -> (725, 488.5991) construction
  line L4 (765, 420) -> (725, 420) construction
  line L5 (765, 820) -> (765, 420) construction
  line L6 (765, 820) -> (725, 820) construction
  line L7 (725, 559.829) -> (725, 820) construction
  line L8 (725, 559.829) -> (107.0513, 353.8461) construction
  line L9 (119.0513, 317.8461) -> (107.0513, 353.8461) construction
  line L10 (119.0513, 317.8461) -> (725, 519.829) construction
  line L11 (725, 488.5991) -> (725, 519.829) construction
  line L12 (725, 820) -> (725, 559.829) construction
  line L13 (725, 559.829) -> (725, 820) construction
  line L14 (725, 650) -> (714, 650)
  line L15 (714, 650) -> (714, 667.5)
  line L16 (714, 667.5) -> (725, 667.5)
  line L17 (725, 667.5) -> (725, 650)
  line L18 (714, 650) -> (706, 650)
  line L19 (706, 650) -> (706, 658)
  line L20 (706, 658) -> (714, 658)
  line L21 (714, 658) -> (714, 650)
  line L22 (706, 650) -> (695, 650)
  line L23 (695, 650) -> (695, 667.5)
  line L24 (695, 667.5) -> (706, 667.5)
  line L25 (706, 667.5) -> (706, 650)
  point P0 (-2450, 650)
  point P1 (714, 658)
  point P2 (706, 658)
  dimension "d211" = 11
  dimension "d212" = 17.5
  dimension "d213" = 8
  dimension "d214" = 8
  dimension "d215" = 11
  dimension "d216" = 17.5
revolve "Revolución1" add sketch "Boceto15" angle 360 about axis through (0, 3175, 0) along (0, -1, 0)
properties part number "Entorno"
